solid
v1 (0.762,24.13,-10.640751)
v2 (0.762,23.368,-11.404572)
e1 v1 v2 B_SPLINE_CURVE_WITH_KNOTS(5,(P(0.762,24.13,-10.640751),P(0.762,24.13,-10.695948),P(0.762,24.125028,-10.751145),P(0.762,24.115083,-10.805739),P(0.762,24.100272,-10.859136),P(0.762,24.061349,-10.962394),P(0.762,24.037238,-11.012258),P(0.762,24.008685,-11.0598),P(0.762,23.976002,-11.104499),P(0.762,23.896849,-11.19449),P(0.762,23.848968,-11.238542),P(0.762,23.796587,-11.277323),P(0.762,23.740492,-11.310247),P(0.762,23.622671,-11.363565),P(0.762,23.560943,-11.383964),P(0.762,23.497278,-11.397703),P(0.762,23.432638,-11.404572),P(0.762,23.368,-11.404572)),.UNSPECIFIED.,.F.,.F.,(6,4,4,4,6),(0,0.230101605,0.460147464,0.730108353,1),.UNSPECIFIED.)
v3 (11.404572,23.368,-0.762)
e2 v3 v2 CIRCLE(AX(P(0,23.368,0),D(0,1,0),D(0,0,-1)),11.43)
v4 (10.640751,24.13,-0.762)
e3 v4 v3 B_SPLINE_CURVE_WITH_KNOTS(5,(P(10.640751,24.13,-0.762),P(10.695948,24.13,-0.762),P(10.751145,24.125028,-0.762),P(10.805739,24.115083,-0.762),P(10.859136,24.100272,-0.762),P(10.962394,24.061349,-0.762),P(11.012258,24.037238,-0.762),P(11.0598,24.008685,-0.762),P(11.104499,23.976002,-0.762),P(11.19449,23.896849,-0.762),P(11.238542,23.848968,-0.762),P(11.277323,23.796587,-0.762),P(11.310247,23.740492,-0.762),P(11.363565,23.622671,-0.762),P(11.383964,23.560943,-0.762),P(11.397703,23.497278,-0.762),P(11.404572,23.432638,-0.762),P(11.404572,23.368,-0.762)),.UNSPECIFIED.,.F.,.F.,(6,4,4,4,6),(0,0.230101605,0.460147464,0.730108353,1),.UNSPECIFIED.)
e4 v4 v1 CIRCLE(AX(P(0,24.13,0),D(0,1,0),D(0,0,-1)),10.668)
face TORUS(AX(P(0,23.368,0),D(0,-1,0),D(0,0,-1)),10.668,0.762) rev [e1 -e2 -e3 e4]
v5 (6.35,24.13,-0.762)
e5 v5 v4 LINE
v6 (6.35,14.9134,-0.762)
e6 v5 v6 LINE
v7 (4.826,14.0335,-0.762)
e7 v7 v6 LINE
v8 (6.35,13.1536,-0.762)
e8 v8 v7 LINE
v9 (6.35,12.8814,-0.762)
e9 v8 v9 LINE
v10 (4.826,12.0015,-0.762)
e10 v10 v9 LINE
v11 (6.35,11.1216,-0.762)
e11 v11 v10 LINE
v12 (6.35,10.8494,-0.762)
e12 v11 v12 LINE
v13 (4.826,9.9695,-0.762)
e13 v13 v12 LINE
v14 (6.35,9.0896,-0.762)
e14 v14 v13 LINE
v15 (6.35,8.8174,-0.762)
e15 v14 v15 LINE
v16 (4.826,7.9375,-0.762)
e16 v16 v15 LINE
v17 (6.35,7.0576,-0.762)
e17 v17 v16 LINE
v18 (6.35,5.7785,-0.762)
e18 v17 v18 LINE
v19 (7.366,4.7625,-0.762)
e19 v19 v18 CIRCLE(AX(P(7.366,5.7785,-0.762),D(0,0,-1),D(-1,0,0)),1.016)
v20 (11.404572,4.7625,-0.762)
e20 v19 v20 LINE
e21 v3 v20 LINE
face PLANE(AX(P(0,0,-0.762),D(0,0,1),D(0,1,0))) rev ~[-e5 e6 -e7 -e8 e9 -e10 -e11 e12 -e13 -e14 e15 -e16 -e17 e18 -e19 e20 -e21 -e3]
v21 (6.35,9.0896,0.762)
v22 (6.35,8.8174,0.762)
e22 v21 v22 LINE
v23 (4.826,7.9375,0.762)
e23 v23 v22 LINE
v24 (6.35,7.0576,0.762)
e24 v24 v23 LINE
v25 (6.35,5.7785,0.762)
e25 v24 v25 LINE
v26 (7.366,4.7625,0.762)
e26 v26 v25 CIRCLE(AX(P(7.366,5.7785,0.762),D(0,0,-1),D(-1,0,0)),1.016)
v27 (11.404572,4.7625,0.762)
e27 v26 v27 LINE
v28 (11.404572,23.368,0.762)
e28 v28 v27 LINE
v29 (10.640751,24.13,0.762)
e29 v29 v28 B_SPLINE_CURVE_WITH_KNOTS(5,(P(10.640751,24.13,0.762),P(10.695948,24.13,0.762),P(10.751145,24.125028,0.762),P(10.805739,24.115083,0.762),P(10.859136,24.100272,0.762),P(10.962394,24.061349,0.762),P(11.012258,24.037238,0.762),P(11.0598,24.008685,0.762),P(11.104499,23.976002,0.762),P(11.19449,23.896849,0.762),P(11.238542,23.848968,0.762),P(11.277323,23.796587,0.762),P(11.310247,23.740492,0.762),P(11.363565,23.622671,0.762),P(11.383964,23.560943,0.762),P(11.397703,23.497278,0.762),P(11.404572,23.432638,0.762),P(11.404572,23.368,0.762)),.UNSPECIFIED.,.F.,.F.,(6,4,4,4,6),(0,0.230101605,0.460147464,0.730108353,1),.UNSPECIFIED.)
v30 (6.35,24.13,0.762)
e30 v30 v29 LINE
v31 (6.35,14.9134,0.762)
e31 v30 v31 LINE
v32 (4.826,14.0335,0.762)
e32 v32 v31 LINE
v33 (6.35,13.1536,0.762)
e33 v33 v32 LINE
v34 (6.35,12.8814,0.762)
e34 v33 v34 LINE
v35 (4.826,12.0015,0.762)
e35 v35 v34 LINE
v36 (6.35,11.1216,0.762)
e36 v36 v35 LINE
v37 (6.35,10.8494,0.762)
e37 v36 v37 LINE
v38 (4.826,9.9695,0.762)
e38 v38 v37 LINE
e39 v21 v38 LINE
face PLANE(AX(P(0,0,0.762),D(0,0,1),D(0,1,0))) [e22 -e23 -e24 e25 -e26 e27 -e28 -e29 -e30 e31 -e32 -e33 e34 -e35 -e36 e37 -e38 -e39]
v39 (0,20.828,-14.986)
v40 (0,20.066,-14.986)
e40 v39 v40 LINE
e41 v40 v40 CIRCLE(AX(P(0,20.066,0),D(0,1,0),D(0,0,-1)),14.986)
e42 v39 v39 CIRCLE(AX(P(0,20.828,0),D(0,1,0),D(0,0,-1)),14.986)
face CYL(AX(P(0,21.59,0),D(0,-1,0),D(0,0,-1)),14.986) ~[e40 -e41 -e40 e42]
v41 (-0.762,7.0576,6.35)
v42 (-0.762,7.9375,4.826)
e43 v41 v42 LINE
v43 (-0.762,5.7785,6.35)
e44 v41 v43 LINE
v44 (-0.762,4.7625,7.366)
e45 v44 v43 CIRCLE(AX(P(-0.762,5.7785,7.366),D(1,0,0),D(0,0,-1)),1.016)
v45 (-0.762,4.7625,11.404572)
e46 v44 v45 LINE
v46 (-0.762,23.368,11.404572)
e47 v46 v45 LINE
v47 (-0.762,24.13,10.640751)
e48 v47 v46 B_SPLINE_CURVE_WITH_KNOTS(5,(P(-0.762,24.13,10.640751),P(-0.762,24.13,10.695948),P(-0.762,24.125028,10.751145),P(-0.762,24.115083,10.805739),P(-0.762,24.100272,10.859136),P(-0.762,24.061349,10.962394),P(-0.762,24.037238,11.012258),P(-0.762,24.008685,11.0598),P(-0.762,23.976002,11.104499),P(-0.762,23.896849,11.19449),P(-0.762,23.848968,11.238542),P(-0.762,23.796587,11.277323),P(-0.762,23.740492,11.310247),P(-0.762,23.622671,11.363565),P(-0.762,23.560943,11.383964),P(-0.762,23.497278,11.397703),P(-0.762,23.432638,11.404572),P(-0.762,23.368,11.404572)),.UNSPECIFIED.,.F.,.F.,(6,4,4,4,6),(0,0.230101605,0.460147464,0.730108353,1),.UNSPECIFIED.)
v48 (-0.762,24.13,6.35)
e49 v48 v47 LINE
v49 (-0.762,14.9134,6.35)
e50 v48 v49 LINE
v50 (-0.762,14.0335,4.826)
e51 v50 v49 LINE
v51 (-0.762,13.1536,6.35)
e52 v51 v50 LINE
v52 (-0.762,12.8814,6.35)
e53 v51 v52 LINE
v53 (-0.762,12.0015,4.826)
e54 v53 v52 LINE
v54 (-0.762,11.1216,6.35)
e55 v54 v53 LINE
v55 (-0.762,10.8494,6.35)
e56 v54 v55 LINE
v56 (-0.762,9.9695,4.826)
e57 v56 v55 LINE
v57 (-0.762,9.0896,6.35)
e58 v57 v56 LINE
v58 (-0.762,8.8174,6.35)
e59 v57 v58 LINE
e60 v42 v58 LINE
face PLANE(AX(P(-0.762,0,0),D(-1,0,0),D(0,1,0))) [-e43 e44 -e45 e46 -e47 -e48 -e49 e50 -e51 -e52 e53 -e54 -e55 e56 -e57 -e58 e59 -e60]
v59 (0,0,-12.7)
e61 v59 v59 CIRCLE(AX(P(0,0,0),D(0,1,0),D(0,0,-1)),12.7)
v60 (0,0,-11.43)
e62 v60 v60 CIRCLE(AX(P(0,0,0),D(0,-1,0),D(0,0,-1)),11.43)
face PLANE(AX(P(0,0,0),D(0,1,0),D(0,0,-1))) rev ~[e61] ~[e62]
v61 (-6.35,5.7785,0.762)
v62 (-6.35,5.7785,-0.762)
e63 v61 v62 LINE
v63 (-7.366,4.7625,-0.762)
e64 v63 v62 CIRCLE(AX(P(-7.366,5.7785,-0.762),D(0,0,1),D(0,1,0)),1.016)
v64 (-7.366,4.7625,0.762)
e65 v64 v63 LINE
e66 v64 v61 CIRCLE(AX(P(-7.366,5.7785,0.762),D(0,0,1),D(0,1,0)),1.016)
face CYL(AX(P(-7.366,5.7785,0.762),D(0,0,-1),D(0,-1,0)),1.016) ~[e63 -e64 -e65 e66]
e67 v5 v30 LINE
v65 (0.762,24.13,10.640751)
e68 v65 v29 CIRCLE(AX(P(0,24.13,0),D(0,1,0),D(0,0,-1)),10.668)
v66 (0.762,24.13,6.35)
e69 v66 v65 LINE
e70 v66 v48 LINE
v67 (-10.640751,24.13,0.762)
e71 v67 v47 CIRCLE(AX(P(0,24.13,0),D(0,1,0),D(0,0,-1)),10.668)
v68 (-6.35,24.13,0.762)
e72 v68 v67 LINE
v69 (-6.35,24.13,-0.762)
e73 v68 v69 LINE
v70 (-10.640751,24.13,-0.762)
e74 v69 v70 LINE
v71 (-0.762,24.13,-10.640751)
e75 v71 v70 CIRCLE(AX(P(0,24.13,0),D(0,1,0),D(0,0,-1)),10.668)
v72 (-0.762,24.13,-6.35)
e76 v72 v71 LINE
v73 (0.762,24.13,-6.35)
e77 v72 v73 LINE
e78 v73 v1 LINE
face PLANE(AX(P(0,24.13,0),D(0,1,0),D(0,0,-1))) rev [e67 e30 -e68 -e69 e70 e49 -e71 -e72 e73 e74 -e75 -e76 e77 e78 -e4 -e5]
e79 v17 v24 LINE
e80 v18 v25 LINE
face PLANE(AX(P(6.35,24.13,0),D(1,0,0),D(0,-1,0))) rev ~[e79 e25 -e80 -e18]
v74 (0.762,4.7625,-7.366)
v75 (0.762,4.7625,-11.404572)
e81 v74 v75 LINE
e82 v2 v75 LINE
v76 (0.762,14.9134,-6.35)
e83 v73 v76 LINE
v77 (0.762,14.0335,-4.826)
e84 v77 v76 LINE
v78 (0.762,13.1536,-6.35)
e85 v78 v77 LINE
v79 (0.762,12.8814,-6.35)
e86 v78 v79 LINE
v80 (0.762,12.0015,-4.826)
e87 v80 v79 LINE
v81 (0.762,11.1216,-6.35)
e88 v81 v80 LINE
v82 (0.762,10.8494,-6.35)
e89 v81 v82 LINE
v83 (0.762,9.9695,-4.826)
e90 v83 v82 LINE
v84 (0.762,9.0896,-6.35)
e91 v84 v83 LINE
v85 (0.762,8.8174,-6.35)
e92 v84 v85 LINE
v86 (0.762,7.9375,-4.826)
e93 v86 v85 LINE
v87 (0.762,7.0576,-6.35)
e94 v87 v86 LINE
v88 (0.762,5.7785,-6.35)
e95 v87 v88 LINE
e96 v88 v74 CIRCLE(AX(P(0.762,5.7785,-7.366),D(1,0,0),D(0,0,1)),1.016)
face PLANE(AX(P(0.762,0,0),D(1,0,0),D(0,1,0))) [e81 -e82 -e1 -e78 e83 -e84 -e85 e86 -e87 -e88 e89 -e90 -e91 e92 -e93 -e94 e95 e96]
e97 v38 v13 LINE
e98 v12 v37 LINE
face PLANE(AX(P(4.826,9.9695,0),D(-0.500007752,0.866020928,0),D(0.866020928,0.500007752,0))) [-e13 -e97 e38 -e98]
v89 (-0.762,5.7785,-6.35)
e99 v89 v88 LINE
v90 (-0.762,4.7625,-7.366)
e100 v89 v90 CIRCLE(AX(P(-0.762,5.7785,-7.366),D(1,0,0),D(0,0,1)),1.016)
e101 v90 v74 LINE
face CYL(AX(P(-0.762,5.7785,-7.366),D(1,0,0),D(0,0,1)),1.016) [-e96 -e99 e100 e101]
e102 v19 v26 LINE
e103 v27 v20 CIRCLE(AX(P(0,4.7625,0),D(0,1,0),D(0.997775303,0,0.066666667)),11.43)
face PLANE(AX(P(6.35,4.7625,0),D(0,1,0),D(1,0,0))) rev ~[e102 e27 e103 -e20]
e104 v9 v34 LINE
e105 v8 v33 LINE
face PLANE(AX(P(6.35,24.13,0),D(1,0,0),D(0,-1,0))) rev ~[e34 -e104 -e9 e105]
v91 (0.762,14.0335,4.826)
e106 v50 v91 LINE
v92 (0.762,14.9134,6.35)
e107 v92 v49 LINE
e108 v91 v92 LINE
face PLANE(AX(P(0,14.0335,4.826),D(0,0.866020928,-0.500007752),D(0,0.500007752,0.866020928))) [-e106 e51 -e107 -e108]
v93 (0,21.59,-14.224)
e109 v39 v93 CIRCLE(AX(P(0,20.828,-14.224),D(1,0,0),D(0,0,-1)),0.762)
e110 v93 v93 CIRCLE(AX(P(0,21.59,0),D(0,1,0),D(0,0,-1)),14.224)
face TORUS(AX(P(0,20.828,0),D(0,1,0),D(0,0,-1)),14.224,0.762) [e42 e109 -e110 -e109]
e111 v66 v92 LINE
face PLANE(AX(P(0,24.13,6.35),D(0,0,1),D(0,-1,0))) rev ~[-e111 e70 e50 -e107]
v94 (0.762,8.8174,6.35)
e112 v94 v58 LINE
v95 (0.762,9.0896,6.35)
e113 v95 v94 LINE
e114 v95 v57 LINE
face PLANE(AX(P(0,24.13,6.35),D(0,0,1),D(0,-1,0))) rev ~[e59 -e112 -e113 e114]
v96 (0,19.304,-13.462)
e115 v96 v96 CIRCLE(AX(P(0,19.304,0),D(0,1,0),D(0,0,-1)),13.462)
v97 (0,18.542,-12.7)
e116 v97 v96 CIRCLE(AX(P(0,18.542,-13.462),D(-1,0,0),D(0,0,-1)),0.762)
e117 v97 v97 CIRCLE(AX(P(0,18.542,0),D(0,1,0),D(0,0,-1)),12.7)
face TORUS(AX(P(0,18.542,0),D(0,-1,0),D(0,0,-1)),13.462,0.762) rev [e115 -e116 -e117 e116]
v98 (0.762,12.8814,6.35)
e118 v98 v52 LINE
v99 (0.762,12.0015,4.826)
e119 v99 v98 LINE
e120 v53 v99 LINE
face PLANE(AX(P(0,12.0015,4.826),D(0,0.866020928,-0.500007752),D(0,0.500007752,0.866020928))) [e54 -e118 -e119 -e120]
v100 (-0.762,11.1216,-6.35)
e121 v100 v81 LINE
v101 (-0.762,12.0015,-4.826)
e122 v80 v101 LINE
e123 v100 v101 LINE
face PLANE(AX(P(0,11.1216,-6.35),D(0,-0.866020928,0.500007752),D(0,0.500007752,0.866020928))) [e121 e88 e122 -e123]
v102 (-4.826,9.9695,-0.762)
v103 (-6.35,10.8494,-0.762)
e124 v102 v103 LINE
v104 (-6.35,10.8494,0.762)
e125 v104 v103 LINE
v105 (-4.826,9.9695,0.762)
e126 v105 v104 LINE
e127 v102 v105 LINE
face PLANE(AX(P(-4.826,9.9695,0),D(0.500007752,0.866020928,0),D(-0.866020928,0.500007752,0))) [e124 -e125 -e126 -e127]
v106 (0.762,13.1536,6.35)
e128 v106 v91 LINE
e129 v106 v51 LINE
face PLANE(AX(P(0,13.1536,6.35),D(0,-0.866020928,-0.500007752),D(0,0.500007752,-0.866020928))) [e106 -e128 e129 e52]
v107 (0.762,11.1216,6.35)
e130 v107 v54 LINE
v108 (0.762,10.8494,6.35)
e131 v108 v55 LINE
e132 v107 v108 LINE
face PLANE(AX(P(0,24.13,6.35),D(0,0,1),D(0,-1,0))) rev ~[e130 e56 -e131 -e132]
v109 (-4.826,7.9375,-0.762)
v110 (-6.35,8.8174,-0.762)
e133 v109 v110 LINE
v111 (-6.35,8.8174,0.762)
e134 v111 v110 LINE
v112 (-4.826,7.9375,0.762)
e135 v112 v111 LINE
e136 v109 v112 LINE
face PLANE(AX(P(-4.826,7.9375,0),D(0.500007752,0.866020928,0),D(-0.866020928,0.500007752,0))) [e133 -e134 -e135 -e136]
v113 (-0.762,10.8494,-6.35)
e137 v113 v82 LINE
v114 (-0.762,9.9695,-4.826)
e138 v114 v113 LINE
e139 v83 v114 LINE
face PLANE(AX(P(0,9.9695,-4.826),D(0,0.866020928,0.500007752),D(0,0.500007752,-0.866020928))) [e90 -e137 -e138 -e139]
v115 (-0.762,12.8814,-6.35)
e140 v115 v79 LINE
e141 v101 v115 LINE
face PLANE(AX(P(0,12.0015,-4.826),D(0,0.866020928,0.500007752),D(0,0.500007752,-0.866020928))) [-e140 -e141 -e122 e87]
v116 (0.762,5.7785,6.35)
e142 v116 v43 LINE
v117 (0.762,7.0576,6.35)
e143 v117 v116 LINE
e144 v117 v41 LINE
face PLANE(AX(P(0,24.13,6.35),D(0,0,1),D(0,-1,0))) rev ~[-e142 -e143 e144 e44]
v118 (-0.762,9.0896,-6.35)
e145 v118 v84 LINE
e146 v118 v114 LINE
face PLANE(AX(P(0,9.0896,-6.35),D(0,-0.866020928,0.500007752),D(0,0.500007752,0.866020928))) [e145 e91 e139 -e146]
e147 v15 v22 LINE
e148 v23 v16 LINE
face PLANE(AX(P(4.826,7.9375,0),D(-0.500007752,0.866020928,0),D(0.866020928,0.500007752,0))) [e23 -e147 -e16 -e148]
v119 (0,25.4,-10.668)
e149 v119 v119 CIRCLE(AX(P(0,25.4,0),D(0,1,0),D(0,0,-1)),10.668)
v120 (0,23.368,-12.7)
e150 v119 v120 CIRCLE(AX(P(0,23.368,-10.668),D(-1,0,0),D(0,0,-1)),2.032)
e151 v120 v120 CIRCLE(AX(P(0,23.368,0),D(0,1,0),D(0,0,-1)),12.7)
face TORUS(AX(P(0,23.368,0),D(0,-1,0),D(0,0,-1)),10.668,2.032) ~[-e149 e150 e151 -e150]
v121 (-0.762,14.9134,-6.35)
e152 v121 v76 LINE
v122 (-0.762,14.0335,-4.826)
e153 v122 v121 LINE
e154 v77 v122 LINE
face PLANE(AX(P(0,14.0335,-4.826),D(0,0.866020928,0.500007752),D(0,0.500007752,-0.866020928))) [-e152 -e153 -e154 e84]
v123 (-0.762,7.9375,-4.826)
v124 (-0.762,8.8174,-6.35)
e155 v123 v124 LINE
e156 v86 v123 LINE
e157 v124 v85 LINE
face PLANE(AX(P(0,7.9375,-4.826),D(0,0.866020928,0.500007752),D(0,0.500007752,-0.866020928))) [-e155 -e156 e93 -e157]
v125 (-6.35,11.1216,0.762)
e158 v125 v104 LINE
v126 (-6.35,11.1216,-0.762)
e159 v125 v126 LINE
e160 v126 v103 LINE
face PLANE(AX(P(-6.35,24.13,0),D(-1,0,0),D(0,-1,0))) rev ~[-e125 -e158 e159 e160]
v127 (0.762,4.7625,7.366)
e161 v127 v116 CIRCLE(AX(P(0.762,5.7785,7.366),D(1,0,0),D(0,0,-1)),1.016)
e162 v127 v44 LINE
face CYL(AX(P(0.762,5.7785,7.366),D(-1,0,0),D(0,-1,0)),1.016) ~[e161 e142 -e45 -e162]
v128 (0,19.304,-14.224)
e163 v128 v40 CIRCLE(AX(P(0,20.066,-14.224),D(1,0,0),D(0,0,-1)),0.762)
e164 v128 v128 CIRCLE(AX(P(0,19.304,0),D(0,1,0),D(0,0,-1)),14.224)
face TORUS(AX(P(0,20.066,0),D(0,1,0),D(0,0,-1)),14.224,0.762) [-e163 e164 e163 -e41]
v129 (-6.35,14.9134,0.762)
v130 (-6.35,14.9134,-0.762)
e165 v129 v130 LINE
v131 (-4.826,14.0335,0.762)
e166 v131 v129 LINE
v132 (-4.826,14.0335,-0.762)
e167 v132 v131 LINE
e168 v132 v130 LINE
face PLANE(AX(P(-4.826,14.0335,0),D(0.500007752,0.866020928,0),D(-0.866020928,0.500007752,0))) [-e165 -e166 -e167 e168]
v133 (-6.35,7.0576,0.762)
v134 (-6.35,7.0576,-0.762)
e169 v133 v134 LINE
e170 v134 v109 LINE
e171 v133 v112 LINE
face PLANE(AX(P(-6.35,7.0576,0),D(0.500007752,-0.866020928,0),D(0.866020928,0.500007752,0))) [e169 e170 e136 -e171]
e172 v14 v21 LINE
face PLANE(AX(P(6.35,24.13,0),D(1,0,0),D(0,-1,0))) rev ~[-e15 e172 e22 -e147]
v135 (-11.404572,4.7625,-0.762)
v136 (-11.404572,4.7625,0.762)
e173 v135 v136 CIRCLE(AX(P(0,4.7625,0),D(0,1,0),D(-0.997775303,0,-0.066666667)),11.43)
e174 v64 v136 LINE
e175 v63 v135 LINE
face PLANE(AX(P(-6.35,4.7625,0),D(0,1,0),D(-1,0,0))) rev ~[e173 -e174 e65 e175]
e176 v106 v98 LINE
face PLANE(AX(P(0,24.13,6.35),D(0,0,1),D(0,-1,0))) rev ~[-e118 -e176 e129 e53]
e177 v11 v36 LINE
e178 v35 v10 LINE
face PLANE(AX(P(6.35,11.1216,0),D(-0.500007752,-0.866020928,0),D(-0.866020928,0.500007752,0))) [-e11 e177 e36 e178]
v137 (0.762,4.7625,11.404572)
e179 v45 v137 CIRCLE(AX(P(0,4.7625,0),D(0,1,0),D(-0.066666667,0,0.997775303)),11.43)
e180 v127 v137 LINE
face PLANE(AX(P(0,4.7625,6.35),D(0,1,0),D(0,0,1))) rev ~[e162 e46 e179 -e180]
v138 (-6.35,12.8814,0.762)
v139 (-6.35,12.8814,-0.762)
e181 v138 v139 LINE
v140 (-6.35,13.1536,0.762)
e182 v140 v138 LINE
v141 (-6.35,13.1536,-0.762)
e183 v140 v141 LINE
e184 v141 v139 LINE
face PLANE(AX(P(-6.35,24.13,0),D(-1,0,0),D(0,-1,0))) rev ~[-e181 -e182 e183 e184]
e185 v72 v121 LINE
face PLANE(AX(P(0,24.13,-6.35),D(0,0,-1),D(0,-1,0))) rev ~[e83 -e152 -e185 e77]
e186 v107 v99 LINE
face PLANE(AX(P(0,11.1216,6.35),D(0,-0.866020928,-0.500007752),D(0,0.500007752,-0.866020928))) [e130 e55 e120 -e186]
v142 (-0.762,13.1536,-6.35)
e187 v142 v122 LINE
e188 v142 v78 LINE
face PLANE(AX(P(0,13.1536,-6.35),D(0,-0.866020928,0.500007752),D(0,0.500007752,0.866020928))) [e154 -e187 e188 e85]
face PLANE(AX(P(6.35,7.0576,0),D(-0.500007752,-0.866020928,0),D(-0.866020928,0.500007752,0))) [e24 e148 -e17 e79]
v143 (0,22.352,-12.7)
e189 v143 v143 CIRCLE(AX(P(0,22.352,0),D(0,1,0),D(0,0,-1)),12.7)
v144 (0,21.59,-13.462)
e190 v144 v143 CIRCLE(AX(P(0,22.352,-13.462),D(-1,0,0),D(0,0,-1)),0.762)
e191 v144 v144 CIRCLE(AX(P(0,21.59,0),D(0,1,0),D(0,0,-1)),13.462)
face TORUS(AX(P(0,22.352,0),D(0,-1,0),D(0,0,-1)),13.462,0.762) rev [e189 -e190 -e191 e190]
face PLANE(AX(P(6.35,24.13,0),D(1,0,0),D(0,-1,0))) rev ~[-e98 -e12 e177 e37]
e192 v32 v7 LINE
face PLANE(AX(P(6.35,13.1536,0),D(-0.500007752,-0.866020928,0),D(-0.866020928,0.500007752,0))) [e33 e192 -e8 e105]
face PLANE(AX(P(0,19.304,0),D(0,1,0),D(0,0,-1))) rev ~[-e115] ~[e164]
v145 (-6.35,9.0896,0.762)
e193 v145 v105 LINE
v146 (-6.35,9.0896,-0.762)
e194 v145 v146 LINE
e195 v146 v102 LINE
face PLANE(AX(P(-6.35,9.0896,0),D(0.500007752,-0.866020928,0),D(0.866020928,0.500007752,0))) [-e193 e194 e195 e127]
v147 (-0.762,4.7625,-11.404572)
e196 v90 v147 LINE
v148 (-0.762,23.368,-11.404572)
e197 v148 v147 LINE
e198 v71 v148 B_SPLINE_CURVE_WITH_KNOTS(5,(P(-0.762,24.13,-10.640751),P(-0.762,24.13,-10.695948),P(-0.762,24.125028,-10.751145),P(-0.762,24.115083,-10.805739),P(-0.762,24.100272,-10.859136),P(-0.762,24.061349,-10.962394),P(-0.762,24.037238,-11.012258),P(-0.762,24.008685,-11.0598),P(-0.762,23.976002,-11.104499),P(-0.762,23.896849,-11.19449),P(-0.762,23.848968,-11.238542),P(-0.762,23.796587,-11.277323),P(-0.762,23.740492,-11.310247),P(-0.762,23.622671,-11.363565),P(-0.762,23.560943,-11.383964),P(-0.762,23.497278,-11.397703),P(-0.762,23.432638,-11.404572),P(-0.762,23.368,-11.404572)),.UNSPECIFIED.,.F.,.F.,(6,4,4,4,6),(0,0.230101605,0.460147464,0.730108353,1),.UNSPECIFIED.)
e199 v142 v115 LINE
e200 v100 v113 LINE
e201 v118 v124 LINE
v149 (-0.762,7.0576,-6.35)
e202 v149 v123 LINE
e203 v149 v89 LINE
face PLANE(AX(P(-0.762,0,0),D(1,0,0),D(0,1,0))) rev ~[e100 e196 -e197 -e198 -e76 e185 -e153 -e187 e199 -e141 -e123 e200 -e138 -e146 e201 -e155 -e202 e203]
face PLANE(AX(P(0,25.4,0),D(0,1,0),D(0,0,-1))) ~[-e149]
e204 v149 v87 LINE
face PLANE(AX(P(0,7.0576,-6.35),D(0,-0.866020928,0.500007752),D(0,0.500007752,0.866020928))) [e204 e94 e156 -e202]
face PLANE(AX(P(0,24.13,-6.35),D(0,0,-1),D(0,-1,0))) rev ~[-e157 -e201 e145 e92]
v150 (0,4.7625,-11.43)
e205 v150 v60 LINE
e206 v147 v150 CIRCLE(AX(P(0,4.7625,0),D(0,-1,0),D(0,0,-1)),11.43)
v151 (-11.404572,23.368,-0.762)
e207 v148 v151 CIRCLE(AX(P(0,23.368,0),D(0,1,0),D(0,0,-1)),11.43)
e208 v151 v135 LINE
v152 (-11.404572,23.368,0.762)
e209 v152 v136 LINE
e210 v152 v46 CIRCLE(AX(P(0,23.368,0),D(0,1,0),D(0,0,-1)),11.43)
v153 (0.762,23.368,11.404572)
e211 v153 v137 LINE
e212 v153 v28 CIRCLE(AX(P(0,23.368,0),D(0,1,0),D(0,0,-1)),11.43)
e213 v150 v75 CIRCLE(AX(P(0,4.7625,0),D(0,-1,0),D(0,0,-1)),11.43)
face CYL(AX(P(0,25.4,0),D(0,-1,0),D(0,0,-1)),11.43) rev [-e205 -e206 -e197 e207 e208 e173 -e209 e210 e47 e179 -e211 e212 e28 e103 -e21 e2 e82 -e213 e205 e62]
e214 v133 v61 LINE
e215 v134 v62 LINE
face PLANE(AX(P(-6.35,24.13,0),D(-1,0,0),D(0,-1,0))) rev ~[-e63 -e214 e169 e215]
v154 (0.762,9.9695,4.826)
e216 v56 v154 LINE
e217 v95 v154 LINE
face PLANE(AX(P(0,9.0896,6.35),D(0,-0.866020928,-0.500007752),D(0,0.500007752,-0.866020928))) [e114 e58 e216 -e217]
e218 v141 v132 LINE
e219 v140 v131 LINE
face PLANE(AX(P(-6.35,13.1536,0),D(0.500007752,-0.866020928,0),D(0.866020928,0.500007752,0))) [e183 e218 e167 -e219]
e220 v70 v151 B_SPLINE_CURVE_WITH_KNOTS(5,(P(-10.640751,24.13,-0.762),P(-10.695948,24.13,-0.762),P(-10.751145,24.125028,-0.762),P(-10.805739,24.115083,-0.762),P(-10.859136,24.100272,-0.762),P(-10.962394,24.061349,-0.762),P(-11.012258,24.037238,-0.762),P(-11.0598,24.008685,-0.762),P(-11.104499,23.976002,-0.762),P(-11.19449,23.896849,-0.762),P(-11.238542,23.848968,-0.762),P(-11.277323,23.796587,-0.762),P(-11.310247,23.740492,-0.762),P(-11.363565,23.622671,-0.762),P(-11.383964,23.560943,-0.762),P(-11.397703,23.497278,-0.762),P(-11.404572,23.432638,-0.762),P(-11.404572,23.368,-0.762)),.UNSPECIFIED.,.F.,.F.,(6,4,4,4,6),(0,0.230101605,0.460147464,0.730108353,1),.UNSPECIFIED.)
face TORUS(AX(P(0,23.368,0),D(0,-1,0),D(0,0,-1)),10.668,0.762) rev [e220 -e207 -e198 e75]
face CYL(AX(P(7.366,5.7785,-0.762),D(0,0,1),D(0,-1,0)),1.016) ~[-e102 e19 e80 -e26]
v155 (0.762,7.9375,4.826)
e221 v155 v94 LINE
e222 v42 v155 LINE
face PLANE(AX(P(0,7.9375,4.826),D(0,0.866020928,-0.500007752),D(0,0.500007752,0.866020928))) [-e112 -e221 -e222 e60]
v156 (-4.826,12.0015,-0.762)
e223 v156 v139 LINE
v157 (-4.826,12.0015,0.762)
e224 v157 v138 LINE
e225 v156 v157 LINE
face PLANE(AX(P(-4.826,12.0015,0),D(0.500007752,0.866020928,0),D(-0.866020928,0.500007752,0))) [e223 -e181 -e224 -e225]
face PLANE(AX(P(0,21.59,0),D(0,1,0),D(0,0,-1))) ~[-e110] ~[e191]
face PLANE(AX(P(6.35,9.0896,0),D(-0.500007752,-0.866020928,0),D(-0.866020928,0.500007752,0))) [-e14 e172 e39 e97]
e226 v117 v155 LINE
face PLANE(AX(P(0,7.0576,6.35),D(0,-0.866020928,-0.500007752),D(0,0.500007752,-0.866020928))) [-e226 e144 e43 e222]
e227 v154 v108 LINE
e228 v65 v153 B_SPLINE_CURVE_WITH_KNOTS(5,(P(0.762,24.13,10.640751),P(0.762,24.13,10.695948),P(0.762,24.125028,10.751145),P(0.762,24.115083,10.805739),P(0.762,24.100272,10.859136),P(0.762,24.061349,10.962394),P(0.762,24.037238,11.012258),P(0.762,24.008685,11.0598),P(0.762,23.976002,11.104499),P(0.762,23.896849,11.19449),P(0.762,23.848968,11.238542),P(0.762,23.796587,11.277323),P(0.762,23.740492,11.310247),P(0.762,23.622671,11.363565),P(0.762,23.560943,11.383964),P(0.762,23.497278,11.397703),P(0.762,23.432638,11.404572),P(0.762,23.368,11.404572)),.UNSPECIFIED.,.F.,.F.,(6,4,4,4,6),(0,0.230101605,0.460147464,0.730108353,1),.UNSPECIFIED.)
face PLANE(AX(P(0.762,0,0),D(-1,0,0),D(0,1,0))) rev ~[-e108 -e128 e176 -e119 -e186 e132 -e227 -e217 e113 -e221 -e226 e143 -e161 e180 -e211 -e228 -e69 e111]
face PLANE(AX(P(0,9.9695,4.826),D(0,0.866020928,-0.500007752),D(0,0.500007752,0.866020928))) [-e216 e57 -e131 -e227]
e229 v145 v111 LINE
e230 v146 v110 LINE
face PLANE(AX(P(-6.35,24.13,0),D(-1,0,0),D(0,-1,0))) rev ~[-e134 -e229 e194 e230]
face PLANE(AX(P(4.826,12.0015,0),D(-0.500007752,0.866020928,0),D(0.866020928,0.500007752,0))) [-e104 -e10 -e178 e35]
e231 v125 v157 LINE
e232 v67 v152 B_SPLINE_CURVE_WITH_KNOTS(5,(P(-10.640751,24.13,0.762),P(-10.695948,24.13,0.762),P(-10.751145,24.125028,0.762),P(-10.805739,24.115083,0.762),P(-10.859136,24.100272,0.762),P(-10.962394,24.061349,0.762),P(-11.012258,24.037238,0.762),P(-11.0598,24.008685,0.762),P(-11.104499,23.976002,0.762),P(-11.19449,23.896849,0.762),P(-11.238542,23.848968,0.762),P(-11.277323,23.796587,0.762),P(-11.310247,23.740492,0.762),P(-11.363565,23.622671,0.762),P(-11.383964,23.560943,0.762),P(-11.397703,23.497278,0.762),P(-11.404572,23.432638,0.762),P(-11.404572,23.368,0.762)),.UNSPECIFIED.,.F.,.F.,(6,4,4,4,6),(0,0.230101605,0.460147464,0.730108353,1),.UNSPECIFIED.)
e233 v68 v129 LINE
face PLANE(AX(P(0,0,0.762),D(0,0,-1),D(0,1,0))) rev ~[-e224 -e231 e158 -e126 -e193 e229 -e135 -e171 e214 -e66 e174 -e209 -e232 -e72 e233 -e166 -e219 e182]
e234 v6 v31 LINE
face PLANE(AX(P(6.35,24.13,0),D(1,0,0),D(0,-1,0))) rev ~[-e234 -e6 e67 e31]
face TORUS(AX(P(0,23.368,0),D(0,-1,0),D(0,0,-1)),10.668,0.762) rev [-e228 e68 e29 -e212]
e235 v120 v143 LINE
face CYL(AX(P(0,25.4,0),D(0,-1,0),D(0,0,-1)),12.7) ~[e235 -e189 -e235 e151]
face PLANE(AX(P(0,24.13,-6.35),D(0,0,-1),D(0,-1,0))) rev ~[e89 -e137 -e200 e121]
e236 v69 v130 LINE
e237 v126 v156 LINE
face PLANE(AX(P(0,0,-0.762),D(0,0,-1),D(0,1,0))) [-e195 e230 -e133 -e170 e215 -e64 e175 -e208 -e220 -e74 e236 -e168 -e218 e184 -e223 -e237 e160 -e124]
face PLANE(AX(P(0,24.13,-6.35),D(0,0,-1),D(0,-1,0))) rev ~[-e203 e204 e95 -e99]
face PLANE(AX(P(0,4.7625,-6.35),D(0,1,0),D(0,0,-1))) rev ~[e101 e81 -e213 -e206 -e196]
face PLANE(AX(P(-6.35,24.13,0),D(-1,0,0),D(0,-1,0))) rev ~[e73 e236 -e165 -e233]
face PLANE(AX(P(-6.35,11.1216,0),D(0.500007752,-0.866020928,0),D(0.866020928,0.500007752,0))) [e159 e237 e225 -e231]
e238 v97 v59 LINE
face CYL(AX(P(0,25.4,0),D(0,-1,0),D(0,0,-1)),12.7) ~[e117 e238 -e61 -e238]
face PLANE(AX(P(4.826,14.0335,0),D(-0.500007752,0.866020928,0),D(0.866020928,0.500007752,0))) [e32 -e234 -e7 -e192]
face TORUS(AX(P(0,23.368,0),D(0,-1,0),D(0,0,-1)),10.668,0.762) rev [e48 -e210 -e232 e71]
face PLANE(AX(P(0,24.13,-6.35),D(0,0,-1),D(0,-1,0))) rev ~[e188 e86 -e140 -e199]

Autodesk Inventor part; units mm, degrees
ref_plane "YZ Plane" through (0, 0, 0) normal (1, 0, 0) x (0, 1, 0)
ref_plane "XZ Plane" through (0, 0, 0) normal (0, 1, 0) x (-1, 0, 0)
ref_plane "XY Plane" through (0, 0, 0) normal (0, 0, 1) x (1, 0, 0)
sketch "Sketch1" plane through (0, 0, 0) normal (1, 0, 0) x (0, 1, 0)
  line L0 (0, 0) -> (25.4, 0)
  line L1 (25.4, 0) -> (25.4, -12.7)
  line L2 (25.4, -12.7) -> (0, -12.7)
  line L3 (0, -12.7) -> (0, 0)
  dimension "d1" = 12.7
  dimension "d2" = 25.4
revolve "Revolution1" add sketch "Sketch1" angle 360 about axis through (0, 0, 0) along (0, 1, 0)
fillet "Fillet1" radius 2.032 1 edges at (0, 25.4, 12.7)
shell "Shell1" thickness 1.27 removed faces 1 at (0.9542, 0, 3.6254)
sketch "Sketch4" plane through (0, 0, 0) normal (1, 0, 0) x (0, 1, 0)
  line L0 (24.13, 10.668) -> (24.13, -10.668) projected
  arc A0 (23.368, -11.43) -> (24.13, -10.668) centre (23.368, -10.668) ccw projected
  line L1 (23.368, -11.43) -> (0, -11.43) projected
  line L2 (24.13, -6.35) -> (4.7625, -6.35)
  line L3 (4.7625, -6.35) -> (4.7625, -11.43)
  line L4 (21.1657, 0) -> (0, 0) construction
  line L5 (0, 12.7) -> (0, -12.7) projected
  dimension "d37" = 6.35
  dimension "d38" = 4.7625
extrude "Extrusion3" add sketch "Sketch4" along normal mid plane 1.524
fillet "Fillet8" radius 1.016 1 edges at (0, 4.7625, -6.35)
sketch "Sketch5" plane through (0, 0, 0) normal (1, 0, 0) x (0, 1, 0)
  line L0 (4.7625, -11.4046) -> (4.7625, -7.366) projected
  line L1 (5.7785, -6.35) -> (24.13, -6.35) projected
  line L2 (7.0576, -6.35) -> (7.9375, -4.826)
  line L3 (7.9375, -4.826) -> (8.8174, -6.35)
  point P0 (0, 0)
  point P1 (18.7869, -3.2512)
  point P2 (24.13, -6.35)
  dimension "d42" = 1.524
  dimension "d43" = 60
  dimension "d44" = 3.175
extrude "Extrusion4" add sketch "Sketch5" along normal mid plane 1.524
pattern_linear "Rectangular Pattern2" count 4 spacing 2.032 along (0, 1, 0) of "Extrusion4"
pattern_circular "Circular Pattern2" count 4 over 360 about axis through (0, -10, 0) along (0, 1, 0) of "Extrusion3", "Fillet8", "Extrusion4", "Rectangular Pattern2"
sketch "Sketch7" plane through (0, 0, 0) normal (1, 0, 0) x (0, 1, 0)
  line L0 (19.304, -12.7) -> (21.59, -12.7)
  line L1 (21.59, -12.7) -> (21.59, -14.986)
  line L2 (21.59, -14.986) -> (19.304, -14.986)
  line L3 (19.304, -14.986) -> (19.304, -12.7)
  line L4 (23.368, -12.7) -> (0, -12.7) projected
  line L5 (0, 12.7) -> (0, -12.7) projected
  line L6 (-3.4036, 0) -> (20.4216, 0) projected
  point P0 (0, 0)
  dimension "d58" = 21.59
  dimension "d59" = 2.286
revolve "Revolution3" add sketch "Sketch7" angle 360 about axis through (0, -10, 0) along (0, 1, 0)
fillet "Fillet10" radius 0.762 4 edges at (0, 21.59, 14.986) (0, 19.304, 14.986) (0, 21.59, 12.7) (0, 19.304, 12.7)
properties part number "Quiz Part B"
